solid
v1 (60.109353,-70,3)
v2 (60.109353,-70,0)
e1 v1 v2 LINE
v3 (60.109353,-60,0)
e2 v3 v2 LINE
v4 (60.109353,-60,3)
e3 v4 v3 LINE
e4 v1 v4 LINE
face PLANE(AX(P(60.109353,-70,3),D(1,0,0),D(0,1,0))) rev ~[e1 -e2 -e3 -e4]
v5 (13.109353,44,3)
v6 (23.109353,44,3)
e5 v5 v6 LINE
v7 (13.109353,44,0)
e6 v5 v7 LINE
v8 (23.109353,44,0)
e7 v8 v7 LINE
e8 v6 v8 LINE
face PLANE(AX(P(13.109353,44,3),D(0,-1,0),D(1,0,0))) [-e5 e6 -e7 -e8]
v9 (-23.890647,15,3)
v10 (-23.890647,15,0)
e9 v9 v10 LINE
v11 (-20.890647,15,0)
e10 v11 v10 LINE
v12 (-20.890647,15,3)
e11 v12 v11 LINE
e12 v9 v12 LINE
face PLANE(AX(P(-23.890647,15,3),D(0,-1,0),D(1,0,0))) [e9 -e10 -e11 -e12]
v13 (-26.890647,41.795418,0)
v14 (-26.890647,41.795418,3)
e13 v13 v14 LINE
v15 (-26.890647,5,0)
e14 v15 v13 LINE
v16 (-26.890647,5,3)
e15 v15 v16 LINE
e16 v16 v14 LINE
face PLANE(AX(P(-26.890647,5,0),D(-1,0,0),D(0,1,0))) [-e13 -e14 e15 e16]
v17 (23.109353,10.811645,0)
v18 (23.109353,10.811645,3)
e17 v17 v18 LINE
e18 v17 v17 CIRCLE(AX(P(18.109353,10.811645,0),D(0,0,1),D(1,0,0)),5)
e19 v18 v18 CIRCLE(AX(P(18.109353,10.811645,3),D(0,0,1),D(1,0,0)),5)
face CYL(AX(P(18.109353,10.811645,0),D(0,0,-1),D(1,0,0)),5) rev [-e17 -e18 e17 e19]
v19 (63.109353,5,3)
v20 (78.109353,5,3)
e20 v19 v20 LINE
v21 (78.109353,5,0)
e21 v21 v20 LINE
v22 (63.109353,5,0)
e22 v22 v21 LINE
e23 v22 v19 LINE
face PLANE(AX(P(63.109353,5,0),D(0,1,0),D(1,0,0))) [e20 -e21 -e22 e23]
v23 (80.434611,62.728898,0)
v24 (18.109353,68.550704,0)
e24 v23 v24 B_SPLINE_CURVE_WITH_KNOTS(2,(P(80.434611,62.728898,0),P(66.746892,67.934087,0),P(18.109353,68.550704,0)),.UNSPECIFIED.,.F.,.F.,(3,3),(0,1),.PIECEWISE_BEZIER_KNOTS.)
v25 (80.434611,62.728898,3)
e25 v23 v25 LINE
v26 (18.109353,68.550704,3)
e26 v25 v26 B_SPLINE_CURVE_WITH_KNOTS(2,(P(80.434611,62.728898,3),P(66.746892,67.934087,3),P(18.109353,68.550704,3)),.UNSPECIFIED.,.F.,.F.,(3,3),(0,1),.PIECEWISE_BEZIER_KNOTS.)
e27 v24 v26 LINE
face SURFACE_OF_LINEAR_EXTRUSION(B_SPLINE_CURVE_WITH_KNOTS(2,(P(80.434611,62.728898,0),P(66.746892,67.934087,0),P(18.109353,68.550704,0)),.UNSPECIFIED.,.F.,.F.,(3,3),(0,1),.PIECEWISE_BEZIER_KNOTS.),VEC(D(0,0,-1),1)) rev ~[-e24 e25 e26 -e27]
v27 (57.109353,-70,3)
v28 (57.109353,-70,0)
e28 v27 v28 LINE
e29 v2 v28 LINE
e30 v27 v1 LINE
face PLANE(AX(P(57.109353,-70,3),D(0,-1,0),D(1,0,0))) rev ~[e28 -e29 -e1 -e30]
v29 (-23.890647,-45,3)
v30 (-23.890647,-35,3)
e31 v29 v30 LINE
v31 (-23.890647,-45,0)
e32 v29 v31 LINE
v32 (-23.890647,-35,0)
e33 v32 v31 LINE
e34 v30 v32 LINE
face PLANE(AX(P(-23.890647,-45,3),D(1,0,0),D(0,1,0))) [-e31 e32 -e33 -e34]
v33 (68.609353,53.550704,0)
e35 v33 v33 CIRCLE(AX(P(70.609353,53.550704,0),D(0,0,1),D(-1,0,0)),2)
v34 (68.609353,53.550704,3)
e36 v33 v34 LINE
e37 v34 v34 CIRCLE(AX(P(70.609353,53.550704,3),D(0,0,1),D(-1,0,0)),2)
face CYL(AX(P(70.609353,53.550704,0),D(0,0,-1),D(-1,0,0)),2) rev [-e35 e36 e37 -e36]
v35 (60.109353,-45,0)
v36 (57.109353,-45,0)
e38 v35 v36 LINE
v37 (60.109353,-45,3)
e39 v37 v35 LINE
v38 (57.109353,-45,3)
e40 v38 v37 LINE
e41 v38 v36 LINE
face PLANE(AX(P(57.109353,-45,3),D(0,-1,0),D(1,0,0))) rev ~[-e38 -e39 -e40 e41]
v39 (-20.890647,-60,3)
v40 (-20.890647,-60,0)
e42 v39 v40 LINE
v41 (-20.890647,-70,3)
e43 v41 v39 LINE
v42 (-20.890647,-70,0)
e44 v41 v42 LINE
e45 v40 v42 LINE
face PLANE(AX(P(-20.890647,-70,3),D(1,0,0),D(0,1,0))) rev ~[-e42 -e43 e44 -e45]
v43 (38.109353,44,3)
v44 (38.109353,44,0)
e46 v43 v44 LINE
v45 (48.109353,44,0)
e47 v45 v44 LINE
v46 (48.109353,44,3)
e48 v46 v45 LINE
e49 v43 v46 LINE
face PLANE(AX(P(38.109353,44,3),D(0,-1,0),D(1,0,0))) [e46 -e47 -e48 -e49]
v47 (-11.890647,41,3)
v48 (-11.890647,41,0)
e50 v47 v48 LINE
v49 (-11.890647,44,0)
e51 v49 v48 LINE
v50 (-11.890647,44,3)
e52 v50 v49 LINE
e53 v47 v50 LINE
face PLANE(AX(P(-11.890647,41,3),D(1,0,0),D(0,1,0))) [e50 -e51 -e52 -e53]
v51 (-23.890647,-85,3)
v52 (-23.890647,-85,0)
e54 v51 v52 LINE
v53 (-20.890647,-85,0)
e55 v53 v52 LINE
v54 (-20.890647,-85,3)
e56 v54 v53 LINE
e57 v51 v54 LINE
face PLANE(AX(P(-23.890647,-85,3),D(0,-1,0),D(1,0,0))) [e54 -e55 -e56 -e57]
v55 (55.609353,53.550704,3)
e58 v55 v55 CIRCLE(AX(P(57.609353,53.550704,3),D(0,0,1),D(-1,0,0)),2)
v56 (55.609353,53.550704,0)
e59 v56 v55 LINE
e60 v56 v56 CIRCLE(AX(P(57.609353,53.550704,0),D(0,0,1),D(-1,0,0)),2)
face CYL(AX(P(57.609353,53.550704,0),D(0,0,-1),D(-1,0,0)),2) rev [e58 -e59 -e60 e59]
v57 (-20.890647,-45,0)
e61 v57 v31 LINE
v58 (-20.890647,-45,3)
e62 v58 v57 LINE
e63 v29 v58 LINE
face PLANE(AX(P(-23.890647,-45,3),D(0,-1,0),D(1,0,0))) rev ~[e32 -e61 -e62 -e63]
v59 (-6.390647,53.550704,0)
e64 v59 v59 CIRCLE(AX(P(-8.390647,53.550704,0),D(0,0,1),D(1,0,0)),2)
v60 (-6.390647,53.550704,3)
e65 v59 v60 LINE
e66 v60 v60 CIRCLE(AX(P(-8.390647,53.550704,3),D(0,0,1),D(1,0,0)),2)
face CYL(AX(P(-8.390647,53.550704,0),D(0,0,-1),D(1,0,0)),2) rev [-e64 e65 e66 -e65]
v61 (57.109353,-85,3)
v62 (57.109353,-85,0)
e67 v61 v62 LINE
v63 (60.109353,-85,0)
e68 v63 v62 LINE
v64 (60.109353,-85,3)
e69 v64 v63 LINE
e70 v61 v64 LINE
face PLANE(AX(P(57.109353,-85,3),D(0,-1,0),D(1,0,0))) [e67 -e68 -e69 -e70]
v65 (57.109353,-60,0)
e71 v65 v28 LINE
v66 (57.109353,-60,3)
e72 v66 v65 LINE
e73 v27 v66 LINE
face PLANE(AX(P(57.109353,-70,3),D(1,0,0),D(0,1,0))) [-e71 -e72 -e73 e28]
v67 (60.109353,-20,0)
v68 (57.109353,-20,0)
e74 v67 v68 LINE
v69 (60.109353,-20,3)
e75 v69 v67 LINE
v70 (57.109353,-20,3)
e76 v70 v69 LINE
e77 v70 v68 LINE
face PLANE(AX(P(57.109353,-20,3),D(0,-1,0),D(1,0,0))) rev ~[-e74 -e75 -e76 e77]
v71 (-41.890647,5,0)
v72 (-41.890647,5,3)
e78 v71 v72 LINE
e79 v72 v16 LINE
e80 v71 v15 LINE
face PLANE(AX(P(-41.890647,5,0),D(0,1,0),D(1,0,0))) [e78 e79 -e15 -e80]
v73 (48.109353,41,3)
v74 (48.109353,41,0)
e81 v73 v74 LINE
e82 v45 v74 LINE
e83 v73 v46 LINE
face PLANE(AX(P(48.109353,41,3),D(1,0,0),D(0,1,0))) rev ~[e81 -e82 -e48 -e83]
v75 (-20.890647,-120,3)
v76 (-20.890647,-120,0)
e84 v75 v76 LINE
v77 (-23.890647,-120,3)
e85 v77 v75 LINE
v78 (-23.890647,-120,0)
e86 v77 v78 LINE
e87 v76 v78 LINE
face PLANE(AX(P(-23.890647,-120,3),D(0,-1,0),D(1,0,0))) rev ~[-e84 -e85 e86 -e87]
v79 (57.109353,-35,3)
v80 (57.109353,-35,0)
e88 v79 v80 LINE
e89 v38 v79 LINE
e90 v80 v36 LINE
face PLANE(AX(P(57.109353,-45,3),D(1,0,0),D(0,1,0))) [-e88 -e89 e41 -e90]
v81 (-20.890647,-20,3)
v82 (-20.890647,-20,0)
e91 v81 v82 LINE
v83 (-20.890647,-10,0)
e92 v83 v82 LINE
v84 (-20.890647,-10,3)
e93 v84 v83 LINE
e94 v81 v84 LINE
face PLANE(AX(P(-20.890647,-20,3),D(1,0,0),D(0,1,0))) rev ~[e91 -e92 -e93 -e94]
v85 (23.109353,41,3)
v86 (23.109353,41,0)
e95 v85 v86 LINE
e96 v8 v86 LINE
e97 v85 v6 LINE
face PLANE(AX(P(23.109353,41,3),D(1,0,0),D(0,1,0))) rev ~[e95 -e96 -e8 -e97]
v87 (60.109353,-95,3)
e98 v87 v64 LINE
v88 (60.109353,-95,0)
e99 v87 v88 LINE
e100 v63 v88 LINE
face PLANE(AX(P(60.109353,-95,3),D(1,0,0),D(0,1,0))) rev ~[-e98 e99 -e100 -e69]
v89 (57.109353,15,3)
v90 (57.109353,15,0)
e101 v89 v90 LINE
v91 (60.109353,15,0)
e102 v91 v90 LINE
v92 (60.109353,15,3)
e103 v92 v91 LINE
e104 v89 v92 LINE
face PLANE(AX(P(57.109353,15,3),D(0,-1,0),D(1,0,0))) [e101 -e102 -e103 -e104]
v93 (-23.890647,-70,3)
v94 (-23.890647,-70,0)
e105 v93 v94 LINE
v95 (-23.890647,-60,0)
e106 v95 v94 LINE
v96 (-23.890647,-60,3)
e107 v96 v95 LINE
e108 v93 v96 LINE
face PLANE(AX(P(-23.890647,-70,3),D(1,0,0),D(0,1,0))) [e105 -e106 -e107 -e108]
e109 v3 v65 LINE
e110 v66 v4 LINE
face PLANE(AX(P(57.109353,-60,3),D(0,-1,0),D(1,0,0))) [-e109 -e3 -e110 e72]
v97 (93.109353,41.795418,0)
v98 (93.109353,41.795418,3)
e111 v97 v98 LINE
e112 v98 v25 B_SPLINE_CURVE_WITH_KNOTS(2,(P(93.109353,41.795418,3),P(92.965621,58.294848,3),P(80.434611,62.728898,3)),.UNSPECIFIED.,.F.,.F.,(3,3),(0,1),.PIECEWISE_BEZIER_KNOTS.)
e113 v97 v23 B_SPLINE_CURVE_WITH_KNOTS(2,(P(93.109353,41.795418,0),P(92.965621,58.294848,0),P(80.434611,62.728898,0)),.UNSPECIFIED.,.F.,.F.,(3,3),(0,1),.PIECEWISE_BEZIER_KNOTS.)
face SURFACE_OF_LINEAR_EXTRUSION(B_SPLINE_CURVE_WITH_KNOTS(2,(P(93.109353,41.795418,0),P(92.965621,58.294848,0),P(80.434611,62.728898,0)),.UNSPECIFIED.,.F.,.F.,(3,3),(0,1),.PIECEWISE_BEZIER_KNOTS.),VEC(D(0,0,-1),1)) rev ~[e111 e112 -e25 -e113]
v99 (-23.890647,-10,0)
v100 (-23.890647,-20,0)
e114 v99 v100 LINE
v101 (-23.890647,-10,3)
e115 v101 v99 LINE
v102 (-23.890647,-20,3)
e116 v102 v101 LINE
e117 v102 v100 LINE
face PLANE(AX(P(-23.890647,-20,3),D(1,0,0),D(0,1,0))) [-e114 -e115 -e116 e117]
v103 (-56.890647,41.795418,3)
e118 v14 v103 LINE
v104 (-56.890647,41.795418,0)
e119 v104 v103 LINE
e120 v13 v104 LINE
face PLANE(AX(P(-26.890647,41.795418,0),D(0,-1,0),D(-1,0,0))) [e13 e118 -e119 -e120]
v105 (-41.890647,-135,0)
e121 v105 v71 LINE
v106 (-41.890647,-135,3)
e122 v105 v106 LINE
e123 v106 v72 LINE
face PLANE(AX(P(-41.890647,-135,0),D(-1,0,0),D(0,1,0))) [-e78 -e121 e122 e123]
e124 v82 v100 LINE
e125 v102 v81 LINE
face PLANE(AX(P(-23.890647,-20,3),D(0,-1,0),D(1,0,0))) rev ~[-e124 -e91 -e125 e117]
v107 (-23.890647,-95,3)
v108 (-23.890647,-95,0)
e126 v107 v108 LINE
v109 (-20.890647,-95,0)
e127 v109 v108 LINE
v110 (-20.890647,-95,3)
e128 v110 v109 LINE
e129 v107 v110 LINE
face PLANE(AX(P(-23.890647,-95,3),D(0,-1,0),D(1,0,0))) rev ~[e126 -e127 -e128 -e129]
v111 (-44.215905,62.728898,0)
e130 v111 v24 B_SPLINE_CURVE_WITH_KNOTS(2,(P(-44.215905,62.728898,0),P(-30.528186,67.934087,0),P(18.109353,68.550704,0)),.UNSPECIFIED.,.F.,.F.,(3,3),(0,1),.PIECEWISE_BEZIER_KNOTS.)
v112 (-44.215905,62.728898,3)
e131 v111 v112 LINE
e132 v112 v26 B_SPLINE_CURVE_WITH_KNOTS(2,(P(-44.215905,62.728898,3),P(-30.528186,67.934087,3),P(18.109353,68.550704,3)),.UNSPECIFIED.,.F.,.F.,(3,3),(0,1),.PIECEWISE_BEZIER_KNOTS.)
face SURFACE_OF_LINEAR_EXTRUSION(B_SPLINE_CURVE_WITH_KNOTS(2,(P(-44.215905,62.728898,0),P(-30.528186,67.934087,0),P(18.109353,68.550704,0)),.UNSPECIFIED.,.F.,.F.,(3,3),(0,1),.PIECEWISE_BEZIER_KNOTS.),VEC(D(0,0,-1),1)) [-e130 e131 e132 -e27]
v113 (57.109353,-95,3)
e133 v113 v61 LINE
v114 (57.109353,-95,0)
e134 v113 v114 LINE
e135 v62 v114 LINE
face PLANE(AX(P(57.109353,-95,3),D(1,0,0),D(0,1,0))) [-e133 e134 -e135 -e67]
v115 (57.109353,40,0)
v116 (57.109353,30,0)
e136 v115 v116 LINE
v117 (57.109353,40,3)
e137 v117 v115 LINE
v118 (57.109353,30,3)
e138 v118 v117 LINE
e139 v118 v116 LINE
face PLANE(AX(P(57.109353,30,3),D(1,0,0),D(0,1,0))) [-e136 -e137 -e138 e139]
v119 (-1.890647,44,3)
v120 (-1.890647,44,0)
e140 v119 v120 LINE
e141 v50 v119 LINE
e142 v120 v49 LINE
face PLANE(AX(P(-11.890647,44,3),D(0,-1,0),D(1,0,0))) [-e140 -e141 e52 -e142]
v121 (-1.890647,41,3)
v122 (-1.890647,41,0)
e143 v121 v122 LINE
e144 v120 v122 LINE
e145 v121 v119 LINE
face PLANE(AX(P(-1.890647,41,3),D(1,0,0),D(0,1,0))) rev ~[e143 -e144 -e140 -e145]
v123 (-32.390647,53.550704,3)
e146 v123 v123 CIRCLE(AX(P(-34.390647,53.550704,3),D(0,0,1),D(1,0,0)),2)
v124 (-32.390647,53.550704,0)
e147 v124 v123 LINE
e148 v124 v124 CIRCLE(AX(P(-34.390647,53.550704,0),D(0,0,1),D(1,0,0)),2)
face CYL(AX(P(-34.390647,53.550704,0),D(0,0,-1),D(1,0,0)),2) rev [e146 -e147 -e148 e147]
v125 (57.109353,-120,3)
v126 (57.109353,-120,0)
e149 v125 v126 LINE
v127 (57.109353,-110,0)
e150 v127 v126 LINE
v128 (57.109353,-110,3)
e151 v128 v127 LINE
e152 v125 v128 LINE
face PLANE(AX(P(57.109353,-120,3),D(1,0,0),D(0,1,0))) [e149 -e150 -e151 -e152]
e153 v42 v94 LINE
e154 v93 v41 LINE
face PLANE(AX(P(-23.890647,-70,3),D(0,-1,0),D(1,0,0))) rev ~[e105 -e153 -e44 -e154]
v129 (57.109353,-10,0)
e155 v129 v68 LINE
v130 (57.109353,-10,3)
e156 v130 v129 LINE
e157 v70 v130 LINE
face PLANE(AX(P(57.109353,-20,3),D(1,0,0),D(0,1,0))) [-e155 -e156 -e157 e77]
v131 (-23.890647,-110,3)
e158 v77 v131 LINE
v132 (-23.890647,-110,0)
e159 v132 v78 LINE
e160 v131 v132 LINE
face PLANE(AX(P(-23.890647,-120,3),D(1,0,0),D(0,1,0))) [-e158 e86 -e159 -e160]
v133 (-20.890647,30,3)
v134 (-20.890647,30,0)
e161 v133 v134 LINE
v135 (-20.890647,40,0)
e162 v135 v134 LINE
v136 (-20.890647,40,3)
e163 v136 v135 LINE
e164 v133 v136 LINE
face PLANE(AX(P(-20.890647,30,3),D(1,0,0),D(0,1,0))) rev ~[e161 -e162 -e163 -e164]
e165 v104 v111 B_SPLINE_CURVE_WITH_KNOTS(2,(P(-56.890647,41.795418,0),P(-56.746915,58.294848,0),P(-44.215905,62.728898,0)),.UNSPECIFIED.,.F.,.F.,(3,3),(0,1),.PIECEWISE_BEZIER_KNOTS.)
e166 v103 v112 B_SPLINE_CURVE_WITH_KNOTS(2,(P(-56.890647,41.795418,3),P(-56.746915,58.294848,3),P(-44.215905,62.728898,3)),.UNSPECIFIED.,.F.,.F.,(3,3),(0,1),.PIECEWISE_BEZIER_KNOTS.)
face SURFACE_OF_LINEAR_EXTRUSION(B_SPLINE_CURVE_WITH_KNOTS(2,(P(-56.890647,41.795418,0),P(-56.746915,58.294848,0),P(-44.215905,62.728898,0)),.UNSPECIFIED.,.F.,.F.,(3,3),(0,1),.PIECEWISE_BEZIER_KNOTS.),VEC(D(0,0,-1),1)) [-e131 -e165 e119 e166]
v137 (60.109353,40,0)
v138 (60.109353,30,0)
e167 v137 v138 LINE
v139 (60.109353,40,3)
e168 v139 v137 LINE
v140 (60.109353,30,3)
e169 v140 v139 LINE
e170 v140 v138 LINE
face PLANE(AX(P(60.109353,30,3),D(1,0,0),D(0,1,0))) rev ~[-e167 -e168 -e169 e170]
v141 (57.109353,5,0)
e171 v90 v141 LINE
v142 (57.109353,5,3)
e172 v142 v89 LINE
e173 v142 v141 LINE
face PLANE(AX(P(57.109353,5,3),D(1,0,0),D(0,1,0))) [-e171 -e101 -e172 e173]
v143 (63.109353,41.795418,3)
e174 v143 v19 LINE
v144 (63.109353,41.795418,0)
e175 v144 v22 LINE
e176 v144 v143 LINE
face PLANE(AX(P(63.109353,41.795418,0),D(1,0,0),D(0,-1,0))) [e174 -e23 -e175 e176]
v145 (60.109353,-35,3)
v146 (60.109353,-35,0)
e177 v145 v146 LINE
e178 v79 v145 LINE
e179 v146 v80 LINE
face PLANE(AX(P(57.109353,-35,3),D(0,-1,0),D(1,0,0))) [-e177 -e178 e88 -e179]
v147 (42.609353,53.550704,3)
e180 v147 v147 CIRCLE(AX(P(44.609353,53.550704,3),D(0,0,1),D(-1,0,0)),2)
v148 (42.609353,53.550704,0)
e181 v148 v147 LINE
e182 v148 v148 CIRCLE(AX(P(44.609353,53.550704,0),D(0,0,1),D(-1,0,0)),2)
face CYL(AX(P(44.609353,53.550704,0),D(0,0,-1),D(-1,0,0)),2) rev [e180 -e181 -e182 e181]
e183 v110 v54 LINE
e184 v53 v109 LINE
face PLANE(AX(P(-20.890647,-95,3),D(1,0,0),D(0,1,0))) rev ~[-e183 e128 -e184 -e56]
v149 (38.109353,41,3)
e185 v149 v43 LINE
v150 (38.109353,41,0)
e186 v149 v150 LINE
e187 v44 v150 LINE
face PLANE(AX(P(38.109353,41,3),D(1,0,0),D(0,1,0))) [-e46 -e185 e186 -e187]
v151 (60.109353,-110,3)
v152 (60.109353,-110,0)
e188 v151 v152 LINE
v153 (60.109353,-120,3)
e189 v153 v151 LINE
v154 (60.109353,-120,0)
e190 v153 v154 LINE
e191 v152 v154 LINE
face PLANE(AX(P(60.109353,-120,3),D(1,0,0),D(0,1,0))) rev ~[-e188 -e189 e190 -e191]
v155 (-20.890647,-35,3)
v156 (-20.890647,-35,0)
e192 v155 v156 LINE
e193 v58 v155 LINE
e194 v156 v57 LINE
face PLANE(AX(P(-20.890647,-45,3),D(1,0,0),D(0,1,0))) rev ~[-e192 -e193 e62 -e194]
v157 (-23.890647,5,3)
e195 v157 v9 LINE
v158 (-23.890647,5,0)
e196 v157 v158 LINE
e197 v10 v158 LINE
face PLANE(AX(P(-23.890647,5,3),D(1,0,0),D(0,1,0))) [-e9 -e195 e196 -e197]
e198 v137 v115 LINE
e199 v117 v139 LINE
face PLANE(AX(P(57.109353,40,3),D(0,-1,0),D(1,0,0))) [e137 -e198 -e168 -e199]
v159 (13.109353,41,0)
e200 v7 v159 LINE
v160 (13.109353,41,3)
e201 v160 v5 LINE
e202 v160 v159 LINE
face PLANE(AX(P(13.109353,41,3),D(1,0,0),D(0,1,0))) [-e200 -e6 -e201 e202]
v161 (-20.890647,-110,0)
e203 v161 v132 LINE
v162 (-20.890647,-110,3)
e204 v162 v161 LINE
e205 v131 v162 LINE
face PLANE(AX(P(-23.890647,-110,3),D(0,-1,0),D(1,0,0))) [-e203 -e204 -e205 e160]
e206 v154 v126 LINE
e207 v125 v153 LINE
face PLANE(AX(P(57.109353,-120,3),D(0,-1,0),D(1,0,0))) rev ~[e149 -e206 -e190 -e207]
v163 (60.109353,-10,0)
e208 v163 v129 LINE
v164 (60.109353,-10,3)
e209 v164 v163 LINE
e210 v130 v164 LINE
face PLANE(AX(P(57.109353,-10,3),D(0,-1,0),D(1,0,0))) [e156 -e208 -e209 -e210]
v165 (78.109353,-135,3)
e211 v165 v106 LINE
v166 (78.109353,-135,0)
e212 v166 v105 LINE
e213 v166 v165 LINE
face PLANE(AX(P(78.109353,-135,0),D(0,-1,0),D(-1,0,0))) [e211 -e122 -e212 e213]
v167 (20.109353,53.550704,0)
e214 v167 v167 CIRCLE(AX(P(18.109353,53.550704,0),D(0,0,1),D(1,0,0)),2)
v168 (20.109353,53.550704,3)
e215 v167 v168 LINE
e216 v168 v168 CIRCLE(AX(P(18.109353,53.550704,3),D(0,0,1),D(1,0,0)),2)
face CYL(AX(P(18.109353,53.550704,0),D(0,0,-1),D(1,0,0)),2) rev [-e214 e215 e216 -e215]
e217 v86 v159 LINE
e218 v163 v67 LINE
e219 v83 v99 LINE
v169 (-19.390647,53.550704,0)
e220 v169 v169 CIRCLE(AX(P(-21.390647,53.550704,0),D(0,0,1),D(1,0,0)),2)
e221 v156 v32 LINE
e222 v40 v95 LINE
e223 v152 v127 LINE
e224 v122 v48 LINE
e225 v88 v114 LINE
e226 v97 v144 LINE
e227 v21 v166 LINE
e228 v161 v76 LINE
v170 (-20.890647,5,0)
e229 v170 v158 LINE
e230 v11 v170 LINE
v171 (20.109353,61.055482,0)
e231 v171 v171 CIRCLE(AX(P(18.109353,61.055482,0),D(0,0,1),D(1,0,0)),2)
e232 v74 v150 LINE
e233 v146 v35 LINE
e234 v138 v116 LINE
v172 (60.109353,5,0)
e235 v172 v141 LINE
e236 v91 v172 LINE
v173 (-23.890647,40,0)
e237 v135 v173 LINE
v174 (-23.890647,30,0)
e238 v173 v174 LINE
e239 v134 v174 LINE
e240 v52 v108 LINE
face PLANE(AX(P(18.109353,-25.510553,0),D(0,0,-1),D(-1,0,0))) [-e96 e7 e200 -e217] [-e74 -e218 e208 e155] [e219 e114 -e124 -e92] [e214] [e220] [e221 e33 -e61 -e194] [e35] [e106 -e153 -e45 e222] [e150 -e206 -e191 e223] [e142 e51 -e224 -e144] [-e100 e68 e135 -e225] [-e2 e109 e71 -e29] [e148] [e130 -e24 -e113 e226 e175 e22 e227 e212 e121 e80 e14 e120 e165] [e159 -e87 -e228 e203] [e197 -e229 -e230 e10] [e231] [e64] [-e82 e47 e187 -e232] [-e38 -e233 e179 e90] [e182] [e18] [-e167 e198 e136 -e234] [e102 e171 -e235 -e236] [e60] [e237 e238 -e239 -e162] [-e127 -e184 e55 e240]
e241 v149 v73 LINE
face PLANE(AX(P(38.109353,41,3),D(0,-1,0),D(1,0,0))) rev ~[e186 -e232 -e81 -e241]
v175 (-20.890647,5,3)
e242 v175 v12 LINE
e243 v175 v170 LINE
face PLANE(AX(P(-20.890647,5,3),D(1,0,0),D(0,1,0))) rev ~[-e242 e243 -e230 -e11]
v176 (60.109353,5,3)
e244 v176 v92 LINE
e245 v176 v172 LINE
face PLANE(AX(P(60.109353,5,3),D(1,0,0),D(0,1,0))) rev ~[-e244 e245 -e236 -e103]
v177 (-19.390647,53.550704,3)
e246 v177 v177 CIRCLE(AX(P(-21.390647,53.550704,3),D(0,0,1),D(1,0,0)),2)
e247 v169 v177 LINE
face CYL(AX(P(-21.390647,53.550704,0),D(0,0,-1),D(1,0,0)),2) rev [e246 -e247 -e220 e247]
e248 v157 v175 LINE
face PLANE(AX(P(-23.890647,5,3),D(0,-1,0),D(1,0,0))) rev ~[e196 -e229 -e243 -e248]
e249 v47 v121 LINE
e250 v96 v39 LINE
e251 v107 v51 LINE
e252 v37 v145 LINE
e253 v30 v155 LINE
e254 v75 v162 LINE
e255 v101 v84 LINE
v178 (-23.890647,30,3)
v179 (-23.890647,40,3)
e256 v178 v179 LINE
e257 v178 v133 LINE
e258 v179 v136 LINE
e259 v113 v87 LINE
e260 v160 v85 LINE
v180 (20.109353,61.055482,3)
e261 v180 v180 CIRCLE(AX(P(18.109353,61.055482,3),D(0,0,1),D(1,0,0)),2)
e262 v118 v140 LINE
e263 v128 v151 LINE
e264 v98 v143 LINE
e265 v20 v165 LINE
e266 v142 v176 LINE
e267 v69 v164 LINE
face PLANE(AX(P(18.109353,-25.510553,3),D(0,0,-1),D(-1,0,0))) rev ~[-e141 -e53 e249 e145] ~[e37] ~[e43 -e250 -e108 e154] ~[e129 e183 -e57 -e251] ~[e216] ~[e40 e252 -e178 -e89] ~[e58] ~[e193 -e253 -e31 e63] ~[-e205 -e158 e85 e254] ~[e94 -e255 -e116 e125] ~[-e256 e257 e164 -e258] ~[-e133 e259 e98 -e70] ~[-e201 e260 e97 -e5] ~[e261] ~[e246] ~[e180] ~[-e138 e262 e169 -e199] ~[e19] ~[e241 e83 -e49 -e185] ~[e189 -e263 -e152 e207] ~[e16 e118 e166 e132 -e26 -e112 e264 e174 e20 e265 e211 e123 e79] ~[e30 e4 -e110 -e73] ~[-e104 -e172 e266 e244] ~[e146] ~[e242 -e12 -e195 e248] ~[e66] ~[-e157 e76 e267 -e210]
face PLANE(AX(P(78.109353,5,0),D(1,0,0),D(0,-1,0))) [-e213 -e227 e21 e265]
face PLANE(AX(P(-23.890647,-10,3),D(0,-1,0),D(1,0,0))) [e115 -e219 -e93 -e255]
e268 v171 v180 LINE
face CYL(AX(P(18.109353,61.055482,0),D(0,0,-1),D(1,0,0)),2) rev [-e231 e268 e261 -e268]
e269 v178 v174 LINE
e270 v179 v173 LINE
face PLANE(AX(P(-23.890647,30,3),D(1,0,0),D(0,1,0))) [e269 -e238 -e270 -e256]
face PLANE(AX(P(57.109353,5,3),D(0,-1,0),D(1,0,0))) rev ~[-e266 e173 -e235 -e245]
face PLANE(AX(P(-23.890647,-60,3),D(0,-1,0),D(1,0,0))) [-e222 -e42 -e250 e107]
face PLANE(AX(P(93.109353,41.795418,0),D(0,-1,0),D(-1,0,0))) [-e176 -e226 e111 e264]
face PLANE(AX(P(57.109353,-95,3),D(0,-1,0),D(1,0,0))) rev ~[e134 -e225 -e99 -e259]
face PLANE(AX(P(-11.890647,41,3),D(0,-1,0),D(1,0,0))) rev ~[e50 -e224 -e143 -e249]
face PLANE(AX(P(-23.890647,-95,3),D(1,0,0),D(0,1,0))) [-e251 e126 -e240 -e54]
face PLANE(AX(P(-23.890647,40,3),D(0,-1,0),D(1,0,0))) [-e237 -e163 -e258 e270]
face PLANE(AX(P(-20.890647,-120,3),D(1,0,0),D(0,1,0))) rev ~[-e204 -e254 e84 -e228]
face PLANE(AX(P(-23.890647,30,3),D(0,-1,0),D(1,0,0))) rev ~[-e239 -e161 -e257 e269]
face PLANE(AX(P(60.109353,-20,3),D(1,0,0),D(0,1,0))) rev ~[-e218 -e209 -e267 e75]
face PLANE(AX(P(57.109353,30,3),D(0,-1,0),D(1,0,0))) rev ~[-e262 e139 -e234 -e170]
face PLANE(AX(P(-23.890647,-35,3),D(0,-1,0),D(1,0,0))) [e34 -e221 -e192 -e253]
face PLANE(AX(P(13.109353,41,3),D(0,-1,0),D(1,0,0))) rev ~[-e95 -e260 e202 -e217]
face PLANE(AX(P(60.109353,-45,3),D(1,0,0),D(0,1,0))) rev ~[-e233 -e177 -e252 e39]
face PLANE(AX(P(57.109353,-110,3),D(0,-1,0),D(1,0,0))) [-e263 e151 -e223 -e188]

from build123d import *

# Parameters (mm, degrees)
ESQUISSE1_R             = 5
ESQUISSE1_R_2           = 2
BOSS_EXTRU_1_DEPTH      = 3
ESQUISSE3_W             = 3
ESQUISSE3_H             = 10
ESQUISSE3_W_2           = 10
ESQUISSE3_H_2           = 3
ENL_V_MAT_EXTRU_1_DEPTH = 165.022412006


with BuildPart() as part:
    # Esquisse1 → Boss.-Extru.1 (new body)
    with BuildSketch(Plane.XY):
        with BuildLine():
            Line((78.109352882, -135), (-41.890647118, -135))
            Line((-41.890647118, -135), (-41.890647118, 5))
            Line((-41.890647118, 5), (-26.890647118, 5))
            Line((-26.890647118, 5), (-26.890647118, 41.795417818))
            Line((-26.890647118, 41.795417818), (-56.890647118, 41.795417818))
            add(Edge.make_bspline(
                [(-56.890647118, 41.795417818), (-56.746915478, 58.294848354), (-44.215904994, 62.728898217)],
                knots=[0, 0, 0, 1, 1, 1], degree=2))
            add(Edge.make_bspline(
                [(-44.215904994, 62.728898217), (-30.528185851, 67.934087187), (18.109352882, 68.550704045)],
                knots=[0, 0, 0, 1, 1, 1], degree=2))
            add(Edge.make_bspline(
                [(80.434610758, 62.728898217), (66.746891614, 67.934087187), (18.109352882, 68.550704045)],
                knots=[0, 0, 0, 1, 1, 1], degree=2))
            add(Edge.make_bspline(
                [(93.109352882, 41.795417818), (92.965621241, 58.294848354), (80.434610758, 62.728898217)],
                knots=[0, 0, 0, 1, 1, 1], degree=2))
            Line((93.109352882, 41.795417818), (63.109352882, 41.795417818))
            Line((63.109352882, 41.795417818), (63.109352882, 5))
            Line((63.109352882, 5), (78.109352882, 5))
            Line((78.109352882, 5), (78.109352882, -135))
        make_face()
        with Locations((18.109352882, 10.811644987)):
            Circle(ESQUISSE1_R, mode=Mode.SUBTRACT)
        with Locations((18.109352882, 53.550704045)):
            Circle(ESQUISSE1_R_2, mode=Mode.SUBTRACT)
        with Locations((-8.390647118, 53.550704045)):
            Circle(ESQUISSE1_R_2, mode=Mode.SUBTRACT)
        with Locations((-34.390647118, 53.550704045)):
            Circle(ESQUISSE1_R_2, mode=Mode.SUBTRACT)
        with Locations(Location((70.609352882, 53.550704045, 0), (0, 0, 180))):
            Circle(ESQUISSE1_R_2, mode=Mode.SUBTRACT)
        with Locations(Location((44.609352882, 53.550704045, 0), (0, 0, 180))):
            Circle(ESQUISSE1_R_2, mode=Mode.SUBTRACT)
        with Locations((18.109352882, 61.055482272)):
            Circle(ESQUISSE1_R_2, mode=Mode.SUBTRACT)
        with Locations((-21.390647118, 53.550704045)):
            Circle(ESQUISSE1_R_2, mode=Mode.SUBTRACT)
        with Locations(Location((57.609352882, 53.550704045, 0), (0, 0, 180))):
            Circle(ESQUISSE1_R_2, mode=Mode.SUBTRACT)
    extrude(amount=BOSS_EXTRU_1_DEPTH)

    # Esquisse3 → Enlèv. mat.-Extru.1 (cut, through all)
    with BuildSketch(Plane.XY.offset(3)):
        with Locations((-22.390647118, -115)):
            Rectangle(ESQUISSE3_W, ESQUISSE3_H)
        with Locations((-22.390647118, -90)):
            Rectangle(ESQUISSE3_W, ESQUISSE3_H)
        with Locations((-22.390647118, -65)):
            Rectangle(ESQUISSE3_W, ESQUISSE3_H)
        with Locations((-22.390647118, -40)):
            Rectangle(ESQUISSE3_W, ESQUISSE3_H)
        with Locations((-22.390647118, -15)):
            Rectangle(ESQUISSE3_W, ESQUISSE3_H)
        with Locations((-22.390647118, 10)):
            Rectangle(ESQUISSE3_W, ESQUISSE3_H)
        with Locations((-22.390647118, 35)):
            Rectangle(ESQUISSE3_W, ESQUISSE3_H)
        with Locations((58.609352882, -15)):
            Rectangle(ESQUISSE3_W, ESQUISSE3_H)
        with Locations((58.609352882, 10)):
            Rectangle(ESQUISSE3_W, ESQUISSE3_H)
        with Locations((58.609352882, 35)):
            Rectangle(ESQUISSE3_W, ESQUISSE3_H)
        with Locations((58.609352882, -65)):
            Rectangle(ESQUISSE3_W, ESQUISSE3_H)
        with Locations((58.609352882, -40)):
            Rectangle(ESQUISSE3_W, ESQUISSE3_H)
        with Locations((58.609352882, -90)):
            Rectangle(ESQUISSE3_W, ESQUISSE3_H)
        with Locations((58.609352882, -115)):
            Rectangle(ESQUISSE3_W, ESQUISSE3_H)
        with Locations((-6.890647118, 42.5)):
            Rectangle(ESQUISSE3_W_2, ESQUISSE3_H_2)
        with Locations((18.109352882, 42.5)):
            Rectangle(ESQUISSE3_W_2, ESQUISSE3_H_2)
        with Locations((43.109352882, 42.5)):
            Rectangle(ESQUISSE3_W_2, ESQUISSE3_H_2)
    extrude(amount=-ENL_V_MAT_EXTRU_1_DEPTH, mode=Mode.SUBTRACT)


solid = part.part
